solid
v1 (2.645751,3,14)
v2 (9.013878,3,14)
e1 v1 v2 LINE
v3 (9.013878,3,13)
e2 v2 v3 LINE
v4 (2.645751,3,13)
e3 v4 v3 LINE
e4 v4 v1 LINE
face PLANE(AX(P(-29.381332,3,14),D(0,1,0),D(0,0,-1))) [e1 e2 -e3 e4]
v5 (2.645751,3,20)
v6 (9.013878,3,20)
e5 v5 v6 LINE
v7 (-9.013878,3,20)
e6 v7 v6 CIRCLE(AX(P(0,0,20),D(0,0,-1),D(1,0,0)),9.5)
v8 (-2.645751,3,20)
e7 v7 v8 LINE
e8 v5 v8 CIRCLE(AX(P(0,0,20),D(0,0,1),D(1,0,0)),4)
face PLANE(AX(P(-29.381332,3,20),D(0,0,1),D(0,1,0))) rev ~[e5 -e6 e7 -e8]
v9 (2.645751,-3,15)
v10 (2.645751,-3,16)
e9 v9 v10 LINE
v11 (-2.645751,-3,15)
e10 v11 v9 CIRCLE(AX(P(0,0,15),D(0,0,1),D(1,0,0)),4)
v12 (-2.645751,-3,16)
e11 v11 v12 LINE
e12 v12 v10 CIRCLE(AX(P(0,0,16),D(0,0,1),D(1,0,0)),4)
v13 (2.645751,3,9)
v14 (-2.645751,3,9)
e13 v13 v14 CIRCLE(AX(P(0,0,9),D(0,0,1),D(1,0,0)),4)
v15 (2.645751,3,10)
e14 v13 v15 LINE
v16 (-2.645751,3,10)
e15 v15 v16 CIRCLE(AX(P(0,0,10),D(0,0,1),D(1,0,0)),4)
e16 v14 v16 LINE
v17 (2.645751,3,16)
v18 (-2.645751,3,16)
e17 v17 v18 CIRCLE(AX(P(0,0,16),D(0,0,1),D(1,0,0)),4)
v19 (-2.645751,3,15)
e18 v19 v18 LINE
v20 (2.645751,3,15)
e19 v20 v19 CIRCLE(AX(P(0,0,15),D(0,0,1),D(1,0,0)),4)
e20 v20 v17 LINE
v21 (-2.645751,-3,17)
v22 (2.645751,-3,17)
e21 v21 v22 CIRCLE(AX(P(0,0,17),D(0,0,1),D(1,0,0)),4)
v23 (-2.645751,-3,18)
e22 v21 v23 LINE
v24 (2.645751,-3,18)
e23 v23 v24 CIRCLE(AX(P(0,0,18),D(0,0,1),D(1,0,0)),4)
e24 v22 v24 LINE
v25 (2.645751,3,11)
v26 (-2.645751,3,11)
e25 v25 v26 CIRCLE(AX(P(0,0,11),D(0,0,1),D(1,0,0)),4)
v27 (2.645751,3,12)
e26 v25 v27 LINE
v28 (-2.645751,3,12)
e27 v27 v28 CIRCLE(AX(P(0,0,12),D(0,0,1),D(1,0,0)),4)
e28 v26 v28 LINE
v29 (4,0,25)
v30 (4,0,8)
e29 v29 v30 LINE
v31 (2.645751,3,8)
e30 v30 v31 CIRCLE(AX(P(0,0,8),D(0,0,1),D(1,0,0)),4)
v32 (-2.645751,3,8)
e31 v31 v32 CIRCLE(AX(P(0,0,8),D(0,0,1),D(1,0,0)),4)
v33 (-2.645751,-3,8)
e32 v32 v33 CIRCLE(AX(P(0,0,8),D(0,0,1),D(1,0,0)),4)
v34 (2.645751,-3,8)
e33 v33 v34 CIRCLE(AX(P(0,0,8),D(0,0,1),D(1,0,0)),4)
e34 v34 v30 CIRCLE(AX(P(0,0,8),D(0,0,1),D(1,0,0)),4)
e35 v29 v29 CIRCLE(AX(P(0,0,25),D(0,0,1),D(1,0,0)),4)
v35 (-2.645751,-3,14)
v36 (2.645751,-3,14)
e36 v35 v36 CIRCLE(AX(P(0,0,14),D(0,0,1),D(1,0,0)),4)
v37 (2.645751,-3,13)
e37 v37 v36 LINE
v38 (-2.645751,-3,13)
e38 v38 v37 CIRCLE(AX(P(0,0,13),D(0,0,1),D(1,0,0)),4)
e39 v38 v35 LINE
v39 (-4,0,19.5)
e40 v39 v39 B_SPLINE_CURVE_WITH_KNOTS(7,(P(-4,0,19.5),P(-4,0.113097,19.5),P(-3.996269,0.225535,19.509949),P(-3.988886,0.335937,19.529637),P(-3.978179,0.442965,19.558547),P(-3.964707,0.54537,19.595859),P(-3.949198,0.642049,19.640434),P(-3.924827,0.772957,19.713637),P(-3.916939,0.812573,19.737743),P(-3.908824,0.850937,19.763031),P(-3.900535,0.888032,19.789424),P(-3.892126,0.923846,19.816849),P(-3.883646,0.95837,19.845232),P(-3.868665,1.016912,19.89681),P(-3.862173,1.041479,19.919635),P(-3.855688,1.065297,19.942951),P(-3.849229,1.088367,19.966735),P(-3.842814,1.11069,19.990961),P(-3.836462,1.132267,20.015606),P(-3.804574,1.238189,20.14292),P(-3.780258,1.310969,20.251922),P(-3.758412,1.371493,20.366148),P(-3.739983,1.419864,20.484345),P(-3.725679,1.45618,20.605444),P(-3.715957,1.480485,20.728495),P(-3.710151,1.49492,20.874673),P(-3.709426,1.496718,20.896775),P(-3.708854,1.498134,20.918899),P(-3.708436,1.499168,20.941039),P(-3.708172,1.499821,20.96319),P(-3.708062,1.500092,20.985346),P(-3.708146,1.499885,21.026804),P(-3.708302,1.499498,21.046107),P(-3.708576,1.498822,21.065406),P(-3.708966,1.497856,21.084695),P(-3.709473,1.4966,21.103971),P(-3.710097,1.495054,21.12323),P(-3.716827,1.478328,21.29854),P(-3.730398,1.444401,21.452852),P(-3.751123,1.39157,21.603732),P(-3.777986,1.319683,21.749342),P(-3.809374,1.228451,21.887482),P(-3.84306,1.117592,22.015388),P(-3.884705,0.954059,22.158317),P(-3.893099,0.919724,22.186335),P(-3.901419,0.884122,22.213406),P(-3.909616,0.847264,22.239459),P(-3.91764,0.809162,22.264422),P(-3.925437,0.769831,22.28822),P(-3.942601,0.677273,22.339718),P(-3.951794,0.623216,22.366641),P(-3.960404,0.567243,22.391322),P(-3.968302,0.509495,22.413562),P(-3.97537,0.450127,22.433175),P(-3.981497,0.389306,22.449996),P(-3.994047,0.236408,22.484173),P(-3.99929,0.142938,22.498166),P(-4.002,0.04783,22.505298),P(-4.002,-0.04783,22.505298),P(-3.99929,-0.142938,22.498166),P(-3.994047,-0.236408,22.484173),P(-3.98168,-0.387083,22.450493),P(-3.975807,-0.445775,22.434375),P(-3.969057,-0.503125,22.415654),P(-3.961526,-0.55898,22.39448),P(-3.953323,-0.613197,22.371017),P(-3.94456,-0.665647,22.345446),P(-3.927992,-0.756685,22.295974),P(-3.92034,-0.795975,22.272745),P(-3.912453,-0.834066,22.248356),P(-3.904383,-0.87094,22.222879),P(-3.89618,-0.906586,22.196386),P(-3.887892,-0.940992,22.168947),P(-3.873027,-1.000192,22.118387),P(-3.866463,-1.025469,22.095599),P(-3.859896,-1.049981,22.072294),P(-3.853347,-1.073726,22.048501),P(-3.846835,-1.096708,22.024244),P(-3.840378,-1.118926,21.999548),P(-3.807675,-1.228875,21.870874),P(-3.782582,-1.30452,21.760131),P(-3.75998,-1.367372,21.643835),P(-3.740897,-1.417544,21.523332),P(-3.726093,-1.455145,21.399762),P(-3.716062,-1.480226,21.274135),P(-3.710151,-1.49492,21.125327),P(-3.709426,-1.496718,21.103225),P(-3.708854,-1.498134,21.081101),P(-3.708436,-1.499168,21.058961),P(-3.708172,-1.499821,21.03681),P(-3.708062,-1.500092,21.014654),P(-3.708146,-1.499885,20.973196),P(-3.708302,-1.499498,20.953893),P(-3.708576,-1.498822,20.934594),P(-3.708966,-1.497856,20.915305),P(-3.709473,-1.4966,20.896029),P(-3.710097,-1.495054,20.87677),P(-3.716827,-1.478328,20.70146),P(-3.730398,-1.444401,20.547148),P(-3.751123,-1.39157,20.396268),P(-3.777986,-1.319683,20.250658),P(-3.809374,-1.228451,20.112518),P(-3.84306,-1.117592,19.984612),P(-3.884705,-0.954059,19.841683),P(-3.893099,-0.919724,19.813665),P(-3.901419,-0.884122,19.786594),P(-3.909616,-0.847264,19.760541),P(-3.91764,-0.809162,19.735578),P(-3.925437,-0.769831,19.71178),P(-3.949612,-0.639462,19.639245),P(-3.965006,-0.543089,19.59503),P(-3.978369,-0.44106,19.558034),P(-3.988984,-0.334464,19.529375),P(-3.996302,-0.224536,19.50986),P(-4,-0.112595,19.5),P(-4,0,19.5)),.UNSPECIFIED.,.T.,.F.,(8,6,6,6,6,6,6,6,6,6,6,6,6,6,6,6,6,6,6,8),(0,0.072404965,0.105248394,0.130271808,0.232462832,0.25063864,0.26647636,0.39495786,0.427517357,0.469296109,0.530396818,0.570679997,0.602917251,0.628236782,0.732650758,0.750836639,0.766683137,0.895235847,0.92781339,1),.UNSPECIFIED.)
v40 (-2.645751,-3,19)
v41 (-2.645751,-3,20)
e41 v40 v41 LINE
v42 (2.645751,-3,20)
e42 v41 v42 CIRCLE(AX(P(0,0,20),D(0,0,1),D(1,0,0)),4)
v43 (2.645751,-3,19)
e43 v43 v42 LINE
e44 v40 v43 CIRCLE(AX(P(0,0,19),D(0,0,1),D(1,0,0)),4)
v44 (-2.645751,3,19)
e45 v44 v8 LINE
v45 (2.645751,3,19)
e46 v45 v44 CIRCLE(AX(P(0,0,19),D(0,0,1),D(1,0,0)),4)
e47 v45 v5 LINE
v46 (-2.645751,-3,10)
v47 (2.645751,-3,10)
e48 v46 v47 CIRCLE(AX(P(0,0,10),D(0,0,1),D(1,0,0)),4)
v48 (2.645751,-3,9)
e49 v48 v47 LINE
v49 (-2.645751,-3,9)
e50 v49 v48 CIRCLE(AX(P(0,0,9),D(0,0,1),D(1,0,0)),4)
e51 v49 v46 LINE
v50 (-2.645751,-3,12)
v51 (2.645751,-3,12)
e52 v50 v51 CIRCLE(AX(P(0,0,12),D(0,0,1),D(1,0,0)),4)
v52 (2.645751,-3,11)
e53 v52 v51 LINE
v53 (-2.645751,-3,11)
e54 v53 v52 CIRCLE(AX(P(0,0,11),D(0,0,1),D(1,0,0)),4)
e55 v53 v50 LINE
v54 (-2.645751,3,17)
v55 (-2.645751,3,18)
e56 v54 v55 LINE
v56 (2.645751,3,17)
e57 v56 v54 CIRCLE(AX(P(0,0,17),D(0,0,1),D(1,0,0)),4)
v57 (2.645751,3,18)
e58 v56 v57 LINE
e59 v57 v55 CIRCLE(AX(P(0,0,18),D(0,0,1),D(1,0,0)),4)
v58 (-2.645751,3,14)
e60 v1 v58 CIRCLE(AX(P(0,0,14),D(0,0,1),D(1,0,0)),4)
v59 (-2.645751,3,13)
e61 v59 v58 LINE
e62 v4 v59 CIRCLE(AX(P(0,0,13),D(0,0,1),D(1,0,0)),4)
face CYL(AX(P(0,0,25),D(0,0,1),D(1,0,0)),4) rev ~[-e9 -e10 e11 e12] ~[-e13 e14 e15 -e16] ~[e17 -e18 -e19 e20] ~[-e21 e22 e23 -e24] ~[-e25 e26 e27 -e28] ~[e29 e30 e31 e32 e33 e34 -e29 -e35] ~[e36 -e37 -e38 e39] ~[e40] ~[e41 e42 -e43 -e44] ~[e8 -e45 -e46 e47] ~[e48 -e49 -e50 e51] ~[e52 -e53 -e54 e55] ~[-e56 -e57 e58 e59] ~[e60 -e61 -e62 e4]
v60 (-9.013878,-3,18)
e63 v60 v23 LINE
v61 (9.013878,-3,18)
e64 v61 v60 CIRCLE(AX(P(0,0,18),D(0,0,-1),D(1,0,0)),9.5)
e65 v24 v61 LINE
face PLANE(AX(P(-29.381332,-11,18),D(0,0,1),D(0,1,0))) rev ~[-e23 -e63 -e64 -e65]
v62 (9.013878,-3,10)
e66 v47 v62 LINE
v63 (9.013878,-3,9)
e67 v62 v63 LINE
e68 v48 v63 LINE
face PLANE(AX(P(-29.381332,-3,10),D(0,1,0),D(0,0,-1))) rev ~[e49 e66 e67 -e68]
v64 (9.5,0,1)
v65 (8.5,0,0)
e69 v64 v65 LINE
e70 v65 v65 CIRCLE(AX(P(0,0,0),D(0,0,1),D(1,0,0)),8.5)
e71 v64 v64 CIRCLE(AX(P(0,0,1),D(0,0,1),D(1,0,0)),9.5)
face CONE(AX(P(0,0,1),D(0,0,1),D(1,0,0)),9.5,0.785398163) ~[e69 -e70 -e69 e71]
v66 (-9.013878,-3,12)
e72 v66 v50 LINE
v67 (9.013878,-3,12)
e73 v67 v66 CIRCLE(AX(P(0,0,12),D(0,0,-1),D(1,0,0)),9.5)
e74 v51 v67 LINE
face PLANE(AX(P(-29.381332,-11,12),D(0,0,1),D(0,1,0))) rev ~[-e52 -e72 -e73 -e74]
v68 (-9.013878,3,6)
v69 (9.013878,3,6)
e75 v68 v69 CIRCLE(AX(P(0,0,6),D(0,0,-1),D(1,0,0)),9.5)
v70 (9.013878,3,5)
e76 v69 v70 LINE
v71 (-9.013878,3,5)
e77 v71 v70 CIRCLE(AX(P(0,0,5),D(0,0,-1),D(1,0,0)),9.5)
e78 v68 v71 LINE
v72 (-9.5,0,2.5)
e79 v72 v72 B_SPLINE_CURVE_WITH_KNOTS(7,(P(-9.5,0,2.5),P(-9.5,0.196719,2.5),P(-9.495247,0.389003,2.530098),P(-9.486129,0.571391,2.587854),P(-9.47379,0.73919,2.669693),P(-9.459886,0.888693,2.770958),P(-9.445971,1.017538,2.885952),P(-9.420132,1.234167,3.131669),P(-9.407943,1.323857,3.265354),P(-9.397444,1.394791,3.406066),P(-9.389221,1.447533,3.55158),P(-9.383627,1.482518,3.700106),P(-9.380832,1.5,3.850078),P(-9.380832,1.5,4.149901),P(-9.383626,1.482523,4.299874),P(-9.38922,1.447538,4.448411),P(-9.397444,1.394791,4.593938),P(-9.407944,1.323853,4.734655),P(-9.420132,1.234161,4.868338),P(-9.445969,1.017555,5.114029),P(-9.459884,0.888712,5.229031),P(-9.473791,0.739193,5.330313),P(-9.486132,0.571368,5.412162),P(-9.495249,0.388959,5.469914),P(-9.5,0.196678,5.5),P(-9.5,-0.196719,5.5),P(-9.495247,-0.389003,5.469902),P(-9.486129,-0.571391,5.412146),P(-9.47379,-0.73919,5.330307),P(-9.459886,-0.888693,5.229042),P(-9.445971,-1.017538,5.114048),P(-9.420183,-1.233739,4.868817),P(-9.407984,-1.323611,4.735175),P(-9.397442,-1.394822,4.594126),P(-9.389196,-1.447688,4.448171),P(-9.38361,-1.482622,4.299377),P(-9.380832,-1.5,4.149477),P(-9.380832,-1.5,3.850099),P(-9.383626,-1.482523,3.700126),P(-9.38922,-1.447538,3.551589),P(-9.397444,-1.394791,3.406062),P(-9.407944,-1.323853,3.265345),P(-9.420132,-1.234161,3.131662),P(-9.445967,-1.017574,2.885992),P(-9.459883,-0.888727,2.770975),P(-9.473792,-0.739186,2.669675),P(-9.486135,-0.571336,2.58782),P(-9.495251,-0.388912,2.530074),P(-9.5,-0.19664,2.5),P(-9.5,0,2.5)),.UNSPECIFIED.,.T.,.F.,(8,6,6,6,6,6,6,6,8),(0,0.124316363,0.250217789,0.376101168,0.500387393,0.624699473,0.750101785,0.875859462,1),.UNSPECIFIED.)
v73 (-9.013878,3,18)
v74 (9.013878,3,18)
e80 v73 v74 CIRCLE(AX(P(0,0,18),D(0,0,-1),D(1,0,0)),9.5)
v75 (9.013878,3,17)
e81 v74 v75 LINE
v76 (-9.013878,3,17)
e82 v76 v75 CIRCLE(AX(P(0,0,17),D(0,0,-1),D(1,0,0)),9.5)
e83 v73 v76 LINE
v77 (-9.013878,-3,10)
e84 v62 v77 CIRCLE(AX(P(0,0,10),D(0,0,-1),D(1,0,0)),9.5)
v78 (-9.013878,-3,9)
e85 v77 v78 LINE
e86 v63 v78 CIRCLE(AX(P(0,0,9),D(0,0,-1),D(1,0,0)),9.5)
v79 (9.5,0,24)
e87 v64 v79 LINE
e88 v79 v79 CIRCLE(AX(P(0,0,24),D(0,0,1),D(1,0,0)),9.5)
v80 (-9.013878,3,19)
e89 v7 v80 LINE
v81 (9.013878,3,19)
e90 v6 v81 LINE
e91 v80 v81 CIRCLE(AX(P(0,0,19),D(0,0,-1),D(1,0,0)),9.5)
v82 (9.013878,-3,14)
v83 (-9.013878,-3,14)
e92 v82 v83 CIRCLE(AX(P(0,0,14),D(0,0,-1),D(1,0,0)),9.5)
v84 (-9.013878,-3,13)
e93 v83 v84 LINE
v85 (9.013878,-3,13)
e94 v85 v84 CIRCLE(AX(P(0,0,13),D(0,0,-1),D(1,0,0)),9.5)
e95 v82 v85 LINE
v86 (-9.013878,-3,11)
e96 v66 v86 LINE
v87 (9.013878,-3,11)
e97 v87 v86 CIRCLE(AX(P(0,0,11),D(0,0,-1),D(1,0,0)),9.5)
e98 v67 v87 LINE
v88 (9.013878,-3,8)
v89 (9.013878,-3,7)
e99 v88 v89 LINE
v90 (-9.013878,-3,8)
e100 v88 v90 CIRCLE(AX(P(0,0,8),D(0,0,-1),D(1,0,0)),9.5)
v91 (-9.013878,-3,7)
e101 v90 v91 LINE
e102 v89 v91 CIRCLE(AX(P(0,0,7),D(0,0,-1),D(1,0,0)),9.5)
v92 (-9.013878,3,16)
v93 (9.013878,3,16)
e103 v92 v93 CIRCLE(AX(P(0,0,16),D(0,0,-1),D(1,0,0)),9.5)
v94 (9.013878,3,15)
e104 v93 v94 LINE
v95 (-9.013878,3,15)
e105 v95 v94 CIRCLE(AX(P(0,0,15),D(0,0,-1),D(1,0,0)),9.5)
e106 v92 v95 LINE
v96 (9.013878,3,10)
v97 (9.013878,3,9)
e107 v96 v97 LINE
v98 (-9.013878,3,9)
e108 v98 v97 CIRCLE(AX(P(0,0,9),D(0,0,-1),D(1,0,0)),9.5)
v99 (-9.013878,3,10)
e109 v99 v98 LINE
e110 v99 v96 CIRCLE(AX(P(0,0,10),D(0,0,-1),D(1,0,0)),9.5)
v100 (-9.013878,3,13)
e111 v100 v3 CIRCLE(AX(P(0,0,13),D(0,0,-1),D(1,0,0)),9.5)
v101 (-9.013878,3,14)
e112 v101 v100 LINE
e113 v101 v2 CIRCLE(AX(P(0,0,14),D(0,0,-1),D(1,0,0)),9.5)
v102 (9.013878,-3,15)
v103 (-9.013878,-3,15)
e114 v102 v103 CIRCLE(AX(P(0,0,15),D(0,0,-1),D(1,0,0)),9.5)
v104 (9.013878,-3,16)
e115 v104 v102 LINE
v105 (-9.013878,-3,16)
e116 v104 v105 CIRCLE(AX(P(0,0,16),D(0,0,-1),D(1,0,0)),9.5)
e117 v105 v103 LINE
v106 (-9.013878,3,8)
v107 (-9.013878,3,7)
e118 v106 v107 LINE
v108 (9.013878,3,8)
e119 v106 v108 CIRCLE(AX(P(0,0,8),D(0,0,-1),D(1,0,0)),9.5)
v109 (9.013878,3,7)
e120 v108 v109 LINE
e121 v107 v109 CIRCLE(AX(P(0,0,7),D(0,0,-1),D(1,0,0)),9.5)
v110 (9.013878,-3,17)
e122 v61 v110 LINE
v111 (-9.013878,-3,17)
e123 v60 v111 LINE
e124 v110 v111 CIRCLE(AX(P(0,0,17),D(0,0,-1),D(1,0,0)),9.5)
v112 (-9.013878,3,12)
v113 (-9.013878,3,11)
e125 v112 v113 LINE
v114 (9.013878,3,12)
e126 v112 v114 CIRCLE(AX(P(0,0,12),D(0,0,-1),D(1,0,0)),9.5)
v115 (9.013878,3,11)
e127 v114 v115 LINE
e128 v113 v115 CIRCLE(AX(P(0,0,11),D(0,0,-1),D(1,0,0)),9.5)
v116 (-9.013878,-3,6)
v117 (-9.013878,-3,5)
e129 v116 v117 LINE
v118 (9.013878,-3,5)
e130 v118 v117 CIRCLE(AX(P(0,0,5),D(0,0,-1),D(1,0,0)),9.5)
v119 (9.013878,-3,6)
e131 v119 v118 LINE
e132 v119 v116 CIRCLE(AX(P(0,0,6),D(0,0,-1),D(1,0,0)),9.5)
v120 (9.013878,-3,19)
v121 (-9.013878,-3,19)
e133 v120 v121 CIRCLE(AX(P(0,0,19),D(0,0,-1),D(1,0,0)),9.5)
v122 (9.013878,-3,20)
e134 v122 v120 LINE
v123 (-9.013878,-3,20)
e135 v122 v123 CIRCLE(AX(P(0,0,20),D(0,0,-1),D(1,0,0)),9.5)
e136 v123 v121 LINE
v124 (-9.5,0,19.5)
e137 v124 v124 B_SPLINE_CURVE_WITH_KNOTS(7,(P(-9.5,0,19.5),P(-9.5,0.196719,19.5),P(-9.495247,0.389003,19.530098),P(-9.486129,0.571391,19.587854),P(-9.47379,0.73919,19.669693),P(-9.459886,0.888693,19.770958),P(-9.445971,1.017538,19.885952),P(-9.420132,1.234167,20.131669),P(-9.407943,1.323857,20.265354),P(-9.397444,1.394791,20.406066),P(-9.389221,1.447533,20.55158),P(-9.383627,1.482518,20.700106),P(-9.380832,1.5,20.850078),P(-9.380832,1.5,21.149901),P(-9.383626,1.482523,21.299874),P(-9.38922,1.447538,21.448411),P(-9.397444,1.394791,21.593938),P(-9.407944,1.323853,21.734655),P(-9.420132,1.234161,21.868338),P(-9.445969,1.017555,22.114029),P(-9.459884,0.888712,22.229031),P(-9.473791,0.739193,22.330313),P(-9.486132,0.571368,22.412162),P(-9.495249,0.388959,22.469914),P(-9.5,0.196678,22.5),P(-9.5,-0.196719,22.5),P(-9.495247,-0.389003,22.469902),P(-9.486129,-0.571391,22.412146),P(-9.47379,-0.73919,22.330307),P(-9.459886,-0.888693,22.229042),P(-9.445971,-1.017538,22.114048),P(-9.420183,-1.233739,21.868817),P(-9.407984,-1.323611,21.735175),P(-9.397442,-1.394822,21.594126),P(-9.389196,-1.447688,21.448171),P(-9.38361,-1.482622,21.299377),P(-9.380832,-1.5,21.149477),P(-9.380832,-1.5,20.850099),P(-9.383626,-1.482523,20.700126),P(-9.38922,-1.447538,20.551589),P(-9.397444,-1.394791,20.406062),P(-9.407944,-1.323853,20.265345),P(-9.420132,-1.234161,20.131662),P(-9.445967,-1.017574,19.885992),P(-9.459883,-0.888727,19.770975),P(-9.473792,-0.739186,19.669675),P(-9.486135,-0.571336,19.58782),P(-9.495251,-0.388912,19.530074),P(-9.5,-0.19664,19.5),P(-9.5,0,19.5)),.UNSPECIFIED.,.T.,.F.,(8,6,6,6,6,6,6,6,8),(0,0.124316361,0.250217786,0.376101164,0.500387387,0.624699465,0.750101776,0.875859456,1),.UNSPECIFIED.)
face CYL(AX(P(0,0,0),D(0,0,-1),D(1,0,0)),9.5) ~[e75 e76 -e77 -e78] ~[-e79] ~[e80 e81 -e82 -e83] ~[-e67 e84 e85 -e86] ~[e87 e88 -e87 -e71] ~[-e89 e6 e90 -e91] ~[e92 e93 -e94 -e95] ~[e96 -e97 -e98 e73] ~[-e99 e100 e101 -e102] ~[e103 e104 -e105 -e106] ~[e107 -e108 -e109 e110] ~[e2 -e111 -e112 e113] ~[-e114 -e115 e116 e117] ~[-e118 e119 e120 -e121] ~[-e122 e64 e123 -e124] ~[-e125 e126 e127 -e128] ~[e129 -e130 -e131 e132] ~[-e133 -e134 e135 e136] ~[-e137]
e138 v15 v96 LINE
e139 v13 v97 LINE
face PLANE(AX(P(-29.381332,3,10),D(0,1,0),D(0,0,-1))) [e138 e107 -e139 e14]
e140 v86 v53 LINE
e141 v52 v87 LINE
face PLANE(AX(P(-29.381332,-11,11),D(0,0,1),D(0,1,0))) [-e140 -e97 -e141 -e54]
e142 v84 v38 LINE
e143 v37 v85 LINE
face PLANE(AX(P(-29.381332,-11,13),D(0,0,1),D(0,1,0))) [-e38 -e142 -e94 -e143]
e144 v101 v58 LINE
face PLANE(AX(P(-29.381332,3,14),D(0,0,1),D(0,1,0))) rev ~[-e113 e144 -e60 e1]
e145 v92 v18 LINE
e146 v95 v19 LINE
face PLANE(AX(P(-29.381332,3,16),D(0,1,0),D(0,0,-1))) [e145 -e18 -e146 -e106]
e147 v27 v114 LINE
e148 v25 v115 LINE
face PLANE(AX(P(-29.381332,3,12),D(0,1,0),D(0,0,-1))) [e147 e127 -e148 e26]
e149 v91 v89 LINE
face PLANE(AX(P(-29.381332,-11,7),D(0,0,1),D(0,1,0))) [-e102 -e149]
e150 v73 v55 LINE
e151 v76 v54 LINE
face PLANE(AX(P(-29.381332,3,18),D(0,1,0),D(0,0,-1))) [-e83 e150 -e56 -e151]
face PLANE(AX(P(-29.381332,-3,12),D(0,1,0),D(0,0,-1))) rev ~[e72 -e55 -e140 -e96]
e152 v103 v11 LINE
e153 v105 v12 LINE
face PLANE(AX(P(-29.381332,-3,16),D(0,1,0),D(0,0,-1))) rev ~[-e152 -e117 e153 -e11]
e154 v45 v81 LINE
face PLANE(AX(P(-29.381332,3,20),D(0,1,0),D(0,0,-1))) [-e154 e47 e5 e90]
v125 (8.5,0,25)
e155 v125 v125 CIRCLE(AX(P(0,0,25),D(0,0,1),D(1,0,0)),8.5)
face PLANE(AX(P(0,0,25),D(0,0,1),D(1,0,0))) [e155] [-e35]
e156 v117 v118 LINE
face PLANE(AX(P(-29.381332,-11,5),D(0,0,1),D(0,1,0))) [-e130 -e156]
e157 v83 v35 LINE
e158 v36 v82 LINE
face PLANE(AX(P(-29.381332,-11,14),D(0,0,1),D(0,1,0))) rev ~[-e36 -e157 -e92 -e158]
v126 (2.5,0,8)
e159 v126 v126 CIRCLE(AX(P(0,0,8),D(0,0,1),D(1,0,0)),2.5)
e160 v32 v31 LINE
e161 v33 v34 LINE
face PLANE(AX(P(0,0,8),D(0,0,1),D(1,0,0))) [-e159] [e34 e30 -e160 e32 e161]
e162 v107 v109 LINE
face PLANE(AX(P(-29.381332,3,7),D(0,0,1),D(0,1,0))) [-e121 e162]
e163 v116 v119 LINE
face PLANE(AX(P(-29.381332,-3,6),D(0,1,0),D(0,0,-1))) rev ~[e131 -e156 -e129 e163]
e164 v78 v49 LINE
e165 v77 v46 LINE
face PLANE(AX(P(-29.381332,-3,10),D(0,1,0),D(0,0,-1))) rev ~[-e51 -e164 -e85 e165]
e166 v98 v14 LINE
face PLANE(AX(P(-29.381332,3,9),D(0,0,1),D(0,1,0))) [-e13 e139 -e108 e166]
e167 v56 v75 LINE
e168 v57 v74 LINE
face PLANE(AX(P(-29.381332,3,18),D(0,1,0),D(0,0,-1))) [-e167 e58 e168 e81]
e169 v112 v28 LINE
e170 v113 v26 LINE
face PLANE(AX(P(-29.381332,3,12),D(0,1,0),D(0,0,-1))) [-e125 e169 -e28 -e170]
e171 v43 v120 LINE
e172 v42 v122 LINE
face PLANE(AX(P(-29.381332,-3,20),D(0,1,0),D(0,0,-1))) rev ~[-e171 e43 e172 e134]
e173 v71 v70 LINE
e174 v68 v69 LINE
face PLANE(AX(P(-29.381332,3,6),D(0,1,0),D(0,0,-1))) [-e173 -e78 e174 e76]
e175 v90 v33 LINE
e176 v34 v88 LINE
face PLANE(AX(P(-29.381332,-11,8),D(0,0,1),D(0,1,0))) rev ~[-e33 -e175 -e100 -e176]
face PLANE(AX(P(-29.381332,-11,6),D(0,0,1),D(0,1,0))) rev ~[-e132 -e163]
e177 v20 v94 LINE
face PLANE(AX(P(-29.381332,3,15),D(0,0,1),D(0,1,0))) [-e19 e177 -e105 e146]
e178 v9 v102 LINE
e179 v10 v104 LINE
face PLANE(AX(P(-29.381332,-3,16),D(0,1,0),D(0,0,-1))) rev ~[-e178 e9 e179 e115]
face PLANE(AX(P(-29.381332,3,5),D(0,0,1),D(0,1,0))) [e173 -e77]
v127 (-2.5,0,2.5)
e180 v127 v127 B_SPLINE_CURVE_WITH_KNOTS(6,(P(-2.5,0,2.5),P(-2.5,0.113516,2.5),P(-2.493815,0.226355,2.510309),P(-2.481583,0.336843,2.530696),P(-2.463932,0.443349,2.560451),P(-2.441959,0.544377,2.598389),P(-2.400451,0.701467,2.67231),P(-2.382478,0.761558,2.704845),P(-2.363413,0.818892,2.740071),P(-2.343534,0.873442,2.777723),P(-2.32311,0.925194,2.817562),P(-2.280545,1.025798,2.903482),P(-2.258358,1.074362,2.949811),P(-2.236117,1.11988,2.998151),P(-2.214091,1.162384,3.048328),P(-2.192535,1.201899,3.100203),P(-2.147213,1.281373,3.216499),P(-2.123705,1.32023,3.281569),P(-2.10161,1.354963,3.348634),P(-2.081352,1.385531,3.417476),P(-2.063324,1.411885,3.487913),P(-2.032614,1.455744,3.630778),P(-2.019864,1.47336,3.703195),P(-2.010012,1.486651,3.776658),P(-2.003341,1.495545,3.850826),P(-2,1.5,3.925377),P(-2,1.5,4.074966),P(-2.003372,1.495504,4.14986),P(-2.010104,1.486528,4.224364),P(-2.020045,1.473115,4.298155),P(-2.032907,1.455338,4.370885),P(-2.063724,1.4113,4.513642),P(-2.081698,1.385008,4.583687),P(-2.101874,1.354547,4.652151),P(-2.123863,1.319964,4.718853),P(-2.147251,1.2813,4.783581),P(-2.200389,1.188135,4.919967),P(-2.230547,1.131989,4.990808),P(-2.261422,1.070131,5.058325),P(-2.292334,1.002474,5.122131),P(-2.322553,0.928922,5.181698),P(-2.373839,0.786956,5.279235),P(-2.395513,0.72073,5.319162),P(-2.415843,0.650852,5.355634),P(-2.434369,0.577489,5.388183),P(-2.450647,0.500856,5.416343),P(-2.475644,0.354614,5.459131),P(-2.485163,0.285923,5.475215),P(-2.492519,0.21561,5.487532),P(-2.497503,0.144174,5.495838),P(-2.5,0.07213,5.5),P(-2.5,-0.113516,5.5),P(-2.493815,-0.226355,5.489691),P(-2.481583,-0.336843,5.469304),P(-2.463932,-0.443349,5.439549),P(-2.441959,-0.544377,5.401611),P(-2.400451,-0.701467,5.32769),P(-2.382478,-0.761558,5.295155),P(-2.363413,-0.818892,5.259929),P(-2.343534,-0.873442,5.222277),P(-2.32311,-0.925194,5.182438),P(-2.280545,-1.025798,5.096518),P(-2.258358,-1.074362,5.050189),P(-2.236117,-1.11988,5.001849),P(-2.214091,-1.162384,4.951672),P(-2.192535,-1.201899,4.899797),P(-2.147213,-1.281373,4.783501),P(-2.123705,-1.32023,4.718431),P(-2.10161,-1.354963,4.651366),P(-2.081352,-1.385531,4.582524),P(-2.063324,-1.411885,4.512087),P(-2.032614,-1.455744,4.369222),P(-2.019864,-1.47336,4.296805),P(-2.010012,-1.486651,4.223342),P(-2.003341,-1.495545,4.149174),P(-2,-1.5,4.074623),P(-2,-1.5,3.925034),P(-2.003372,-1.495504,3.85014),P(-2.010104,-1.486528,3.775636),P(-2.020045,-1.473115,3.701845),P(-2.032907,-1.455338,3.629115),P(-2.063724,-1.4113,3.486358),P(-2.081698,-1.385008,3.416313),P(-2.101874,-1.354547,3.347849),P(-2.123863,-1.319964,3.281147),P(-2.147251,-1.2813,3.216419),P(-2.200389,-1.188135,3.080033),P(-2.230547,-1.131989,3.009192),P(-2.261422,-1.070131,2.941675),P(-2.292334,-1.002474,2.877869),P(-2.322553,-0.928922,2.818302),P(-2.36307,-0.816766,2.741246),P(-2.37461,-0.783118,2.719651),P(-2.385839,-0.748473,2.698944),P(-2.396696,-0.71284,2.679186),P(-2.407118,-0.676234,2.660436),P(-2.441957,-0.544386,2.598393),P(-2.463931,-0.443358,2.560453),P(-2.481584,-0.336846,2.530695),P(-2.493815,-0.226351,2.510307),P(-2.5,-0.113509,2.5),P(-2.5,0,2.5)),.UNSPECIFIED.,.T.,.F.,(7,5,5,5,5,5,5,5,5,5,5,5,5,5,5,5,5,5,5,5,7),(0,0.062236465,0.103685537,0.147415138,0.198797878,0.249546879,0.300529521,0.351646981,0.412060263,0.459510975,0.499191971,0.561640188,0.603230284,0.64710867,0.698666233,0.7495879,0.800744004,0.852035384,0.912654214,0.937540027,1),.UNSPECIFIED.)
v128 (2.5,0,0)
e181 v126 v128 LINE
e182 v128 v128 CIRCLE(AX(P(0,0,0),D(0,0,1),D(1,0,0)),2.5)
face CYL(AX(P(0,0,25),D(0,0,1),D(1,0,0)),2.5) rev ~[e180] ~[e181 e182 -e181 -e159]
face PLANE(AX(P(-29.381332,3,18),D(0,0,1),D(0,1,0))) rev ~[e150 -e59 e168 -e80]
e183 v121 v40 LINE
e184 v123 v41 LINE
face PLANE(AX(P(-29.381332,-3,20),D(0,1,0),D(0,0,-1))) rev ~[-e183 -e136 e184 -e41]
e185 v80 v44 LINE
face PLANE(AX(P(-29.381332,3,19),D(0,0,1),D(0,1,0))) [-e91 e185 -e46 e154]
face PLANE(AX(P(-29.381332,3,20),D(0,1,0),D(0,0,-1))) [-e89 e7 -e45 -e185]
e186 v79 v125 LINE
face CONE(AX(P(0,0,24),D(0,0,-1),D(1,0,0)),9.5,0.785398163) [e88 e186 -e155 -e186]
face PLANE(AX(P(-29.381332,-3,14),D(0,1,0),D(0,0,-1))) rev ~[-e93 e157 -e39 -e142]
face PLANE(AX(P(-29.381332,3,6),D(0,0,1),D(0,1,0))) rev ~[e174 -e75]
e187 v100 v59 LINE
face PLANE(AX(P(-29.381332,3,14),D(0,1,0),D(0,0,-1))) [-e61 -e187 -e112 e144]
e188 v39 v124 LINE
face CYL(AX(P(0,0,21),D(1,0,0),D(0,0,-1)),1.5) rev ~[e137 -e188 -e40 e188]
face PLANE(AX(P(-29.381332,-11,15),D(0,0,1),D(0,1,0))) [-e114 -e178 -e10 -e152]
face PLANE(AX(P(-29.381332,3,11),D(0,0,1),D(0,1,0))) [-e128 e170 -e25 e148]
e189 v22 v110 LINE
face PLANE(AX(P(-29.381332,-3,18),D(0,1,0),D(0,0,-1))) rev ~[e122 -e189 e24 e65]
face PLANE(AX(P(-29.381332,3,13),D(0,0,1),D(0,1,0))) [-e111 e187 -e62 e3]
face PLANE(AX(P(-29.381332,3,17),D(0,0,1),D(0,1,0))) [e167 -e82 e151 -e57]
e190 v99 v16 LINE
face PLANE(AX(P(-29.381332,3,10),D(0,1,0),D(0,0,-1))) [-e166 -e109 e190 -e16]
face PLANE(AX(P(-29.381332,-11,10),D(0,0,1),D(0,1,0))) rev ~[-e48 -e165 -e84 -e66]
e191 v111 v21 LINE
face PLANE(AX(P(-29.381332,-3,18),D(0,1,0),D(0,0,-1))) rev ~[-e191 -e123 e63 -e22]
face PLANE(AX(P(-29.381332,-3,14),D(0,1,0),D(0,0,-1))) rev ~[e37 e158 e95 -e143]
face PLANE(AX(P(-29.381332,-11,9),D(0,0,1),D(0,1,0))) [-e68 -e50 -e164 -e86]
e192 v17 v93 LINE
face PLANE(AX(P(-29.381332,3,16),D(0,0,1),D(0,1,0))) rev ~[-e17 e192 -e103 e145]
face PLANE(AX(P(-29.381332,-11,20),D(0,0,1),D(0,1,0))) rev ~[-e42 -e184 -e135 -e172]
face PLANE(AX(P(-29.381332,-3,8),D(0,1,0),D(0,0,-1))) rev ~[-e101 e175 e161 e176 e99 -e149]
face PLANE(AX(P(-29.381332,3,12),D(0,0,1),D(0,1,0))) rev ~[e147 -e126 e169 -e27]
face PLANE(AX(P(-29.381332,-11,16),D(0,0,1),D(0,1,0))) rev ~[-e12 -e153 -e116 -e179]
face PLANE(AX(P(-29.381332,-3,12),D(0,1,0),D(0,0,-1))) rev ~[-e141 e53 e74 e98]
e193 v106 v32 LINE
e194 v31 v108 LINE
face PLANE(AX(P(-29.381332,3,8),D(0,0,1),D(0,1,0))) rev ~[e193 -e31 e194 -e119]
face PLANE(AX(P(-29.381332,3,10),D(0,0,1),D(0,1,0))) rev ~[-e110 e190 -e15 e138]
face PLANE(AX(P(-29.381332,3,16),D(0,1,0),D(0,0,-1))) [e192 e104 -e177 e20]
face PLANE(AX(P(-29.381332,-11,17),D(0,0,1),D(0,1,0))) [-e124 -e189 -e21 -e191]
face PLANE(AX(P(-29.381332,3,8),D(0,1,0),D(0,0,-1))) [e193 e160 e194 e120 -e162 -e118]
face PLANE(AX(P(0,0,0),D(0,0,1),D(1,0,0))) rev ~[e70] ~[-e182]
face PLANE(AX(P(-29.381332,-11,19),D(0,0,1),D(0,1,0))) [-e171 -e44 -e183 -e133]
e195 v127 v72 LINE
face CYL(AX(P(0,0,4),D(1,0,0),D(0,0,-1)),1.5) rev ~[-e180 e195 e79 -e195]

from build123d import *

# Parameters (mm, degrees)
CROQUIS1_R                 = 9.5
SALIENTE_EXTRUIR1_DEPTH    = 25
CROQUIS2_R                 = 2.5
CORTAR_EXTRUIR1_DEPTH      = 29.381331893
CROQUIS3_R                 = 4
CORTAR_EXTRUIR2_DEPTH      = 17
CHAFL_N1_SIZE              = 1
CROQUIS4_R                 = 1.5
CORTAR_EXTRUIR3_DEPTH      = 29.381331893
CORTAR_EXTRUIR4_DEPTH      = 29.381332048
CORTAR_EXTRUIR4_DEPTH_BACK = 29.381332048
CROQUIS5_W                 = 1
CROQUIS5_H                 = 8


with BuildPart() as part:
    # Croquis1 → Saliente-Extruir1 (new body)
    with BuildSketch(Plane.XY):
        Circle(CROQUIS1_R)
    extrude(amount=SALIENTE_EXTRUIR1_DEPTH)

    # Croquis2 → Cortar-Extruir1 (cut, through all)
    with BuildSketch(Plane.XY.offset(25)):
        Circle(CROQUIS2_R)
    extrude(amount=-CORTAR_EXTRUIR1_DEPTH, mode=Mode.SUBTRACT)

    # Croquis3 → Cortar-Extruir2 (cut)
    with BuildSketch(Plane.XY.offset(25)):
        Circle(CROQUIS3_R)
    extrude(amount=-CORTAR_EXTRUIR2_DEPTH, mode=Mode.SUBTRACT)

    # Chaflán1
    chafl_n1_edges = [part.edges().sort_by_distance(p)[0] for p in [
        (-9.5, 0, 0),
        (-9.5, 0, 25),
    ]]
    chamfer(chafl_n1_edges, length=CHAFL_N1_SIZE)

    # Croquis4 → Cortar-Extruir3 (cut, through all)
    with BuildSketch(Plane(origin=(0, 0, 0), x_dir=(0, 0, -1), z_dir=(1, 0, 0))):
        with Locations((-21, 0)):
            Circle(CROQUIS4_R)
        with Locations((-4, 0)):
            Circle(CROQUIS4_R)
    extrude(amount=-CORTAR_EXTRUIR3_DEPTH, mode=Mode.SUBTRACT)

    # Croquis5 → Cortar-Extruir4 (cut, two sides: drawn at the far end of the back side and taken through both)
    with BuildSketch(Plane(origin=(0, 0, 0), x_dir=(0, 0, -1), z_dir=(1, 0, 0)).offset(-CORTAR_EXTRUIR4_DEPTH_BACK)):
        with Locations((-17.5, 7)):
            Rectangle(CROQUIS5_W, CROQUIS5_H)
        with Locations((-19.5, 7)):
            Rectangle(CROQUIS5_W, CROQUIS5_H)
        with Locations((-15.5, 7)):
            Rectangle(CROQUIS5_W, CROQUIS5_H)
        with Locations((-13.5, 7)):
            Rectangle(CROQUIS5_W, CROQUIS5_H)
        with Locations((-11.5, 7)):
            Rectangle(CROQUIS5_W, CROQUIS5_H)
        with Locations((-9.5, 7)):
            Rectangle(CROQUIS5_W, CROQUIS5_H)
        with Locations((-7.5, 7)):
            Rectangle(CROQUIS5_W, CROQUIS5_H)
        with Locations((-5.5, 7)):
            Rectangle(CROQUIS5_W, CROQUIS5_H)
        with Locations((-17.5, -7)):
            Rectangle(CROQUIS5_W, CROQUIS5_H)
        with Locations((-15.5, -7)):
            Rectangle(CROQUIS5_W, CROQUIS5_H)
        with Locations((-13.5, -7)):
            Rectangle(CROQUIS5_W, CROQUIS5_H)
        with Locations((-11.5, -7)):
            Rectangle(CROQUIS5_W, CROQUIS5_H)
        with Locations((-9.5, -7)):
            Rectangle(CROQUIS5_W, CROQUIS5_H)
        with Locations((-7.5, -7)):
            Rectangle(CROQUIS5_W, CROQUIS5_H)
        with Locations((-5.5, -7)):
            Rectangle(CROQUIS5_W, CROQUIS5_H)
        with Locations((-19.5, -7)):
            Rectangle(CROQUIS5_W, CROQUIS5_H)
    extrude(amount=CORTAR_EXTRUIR4_DEPTH + CORTAR_EXTRUIR4_DEPTH_BACK, mode=Mode.SUBTRACT)


solid = part.part
